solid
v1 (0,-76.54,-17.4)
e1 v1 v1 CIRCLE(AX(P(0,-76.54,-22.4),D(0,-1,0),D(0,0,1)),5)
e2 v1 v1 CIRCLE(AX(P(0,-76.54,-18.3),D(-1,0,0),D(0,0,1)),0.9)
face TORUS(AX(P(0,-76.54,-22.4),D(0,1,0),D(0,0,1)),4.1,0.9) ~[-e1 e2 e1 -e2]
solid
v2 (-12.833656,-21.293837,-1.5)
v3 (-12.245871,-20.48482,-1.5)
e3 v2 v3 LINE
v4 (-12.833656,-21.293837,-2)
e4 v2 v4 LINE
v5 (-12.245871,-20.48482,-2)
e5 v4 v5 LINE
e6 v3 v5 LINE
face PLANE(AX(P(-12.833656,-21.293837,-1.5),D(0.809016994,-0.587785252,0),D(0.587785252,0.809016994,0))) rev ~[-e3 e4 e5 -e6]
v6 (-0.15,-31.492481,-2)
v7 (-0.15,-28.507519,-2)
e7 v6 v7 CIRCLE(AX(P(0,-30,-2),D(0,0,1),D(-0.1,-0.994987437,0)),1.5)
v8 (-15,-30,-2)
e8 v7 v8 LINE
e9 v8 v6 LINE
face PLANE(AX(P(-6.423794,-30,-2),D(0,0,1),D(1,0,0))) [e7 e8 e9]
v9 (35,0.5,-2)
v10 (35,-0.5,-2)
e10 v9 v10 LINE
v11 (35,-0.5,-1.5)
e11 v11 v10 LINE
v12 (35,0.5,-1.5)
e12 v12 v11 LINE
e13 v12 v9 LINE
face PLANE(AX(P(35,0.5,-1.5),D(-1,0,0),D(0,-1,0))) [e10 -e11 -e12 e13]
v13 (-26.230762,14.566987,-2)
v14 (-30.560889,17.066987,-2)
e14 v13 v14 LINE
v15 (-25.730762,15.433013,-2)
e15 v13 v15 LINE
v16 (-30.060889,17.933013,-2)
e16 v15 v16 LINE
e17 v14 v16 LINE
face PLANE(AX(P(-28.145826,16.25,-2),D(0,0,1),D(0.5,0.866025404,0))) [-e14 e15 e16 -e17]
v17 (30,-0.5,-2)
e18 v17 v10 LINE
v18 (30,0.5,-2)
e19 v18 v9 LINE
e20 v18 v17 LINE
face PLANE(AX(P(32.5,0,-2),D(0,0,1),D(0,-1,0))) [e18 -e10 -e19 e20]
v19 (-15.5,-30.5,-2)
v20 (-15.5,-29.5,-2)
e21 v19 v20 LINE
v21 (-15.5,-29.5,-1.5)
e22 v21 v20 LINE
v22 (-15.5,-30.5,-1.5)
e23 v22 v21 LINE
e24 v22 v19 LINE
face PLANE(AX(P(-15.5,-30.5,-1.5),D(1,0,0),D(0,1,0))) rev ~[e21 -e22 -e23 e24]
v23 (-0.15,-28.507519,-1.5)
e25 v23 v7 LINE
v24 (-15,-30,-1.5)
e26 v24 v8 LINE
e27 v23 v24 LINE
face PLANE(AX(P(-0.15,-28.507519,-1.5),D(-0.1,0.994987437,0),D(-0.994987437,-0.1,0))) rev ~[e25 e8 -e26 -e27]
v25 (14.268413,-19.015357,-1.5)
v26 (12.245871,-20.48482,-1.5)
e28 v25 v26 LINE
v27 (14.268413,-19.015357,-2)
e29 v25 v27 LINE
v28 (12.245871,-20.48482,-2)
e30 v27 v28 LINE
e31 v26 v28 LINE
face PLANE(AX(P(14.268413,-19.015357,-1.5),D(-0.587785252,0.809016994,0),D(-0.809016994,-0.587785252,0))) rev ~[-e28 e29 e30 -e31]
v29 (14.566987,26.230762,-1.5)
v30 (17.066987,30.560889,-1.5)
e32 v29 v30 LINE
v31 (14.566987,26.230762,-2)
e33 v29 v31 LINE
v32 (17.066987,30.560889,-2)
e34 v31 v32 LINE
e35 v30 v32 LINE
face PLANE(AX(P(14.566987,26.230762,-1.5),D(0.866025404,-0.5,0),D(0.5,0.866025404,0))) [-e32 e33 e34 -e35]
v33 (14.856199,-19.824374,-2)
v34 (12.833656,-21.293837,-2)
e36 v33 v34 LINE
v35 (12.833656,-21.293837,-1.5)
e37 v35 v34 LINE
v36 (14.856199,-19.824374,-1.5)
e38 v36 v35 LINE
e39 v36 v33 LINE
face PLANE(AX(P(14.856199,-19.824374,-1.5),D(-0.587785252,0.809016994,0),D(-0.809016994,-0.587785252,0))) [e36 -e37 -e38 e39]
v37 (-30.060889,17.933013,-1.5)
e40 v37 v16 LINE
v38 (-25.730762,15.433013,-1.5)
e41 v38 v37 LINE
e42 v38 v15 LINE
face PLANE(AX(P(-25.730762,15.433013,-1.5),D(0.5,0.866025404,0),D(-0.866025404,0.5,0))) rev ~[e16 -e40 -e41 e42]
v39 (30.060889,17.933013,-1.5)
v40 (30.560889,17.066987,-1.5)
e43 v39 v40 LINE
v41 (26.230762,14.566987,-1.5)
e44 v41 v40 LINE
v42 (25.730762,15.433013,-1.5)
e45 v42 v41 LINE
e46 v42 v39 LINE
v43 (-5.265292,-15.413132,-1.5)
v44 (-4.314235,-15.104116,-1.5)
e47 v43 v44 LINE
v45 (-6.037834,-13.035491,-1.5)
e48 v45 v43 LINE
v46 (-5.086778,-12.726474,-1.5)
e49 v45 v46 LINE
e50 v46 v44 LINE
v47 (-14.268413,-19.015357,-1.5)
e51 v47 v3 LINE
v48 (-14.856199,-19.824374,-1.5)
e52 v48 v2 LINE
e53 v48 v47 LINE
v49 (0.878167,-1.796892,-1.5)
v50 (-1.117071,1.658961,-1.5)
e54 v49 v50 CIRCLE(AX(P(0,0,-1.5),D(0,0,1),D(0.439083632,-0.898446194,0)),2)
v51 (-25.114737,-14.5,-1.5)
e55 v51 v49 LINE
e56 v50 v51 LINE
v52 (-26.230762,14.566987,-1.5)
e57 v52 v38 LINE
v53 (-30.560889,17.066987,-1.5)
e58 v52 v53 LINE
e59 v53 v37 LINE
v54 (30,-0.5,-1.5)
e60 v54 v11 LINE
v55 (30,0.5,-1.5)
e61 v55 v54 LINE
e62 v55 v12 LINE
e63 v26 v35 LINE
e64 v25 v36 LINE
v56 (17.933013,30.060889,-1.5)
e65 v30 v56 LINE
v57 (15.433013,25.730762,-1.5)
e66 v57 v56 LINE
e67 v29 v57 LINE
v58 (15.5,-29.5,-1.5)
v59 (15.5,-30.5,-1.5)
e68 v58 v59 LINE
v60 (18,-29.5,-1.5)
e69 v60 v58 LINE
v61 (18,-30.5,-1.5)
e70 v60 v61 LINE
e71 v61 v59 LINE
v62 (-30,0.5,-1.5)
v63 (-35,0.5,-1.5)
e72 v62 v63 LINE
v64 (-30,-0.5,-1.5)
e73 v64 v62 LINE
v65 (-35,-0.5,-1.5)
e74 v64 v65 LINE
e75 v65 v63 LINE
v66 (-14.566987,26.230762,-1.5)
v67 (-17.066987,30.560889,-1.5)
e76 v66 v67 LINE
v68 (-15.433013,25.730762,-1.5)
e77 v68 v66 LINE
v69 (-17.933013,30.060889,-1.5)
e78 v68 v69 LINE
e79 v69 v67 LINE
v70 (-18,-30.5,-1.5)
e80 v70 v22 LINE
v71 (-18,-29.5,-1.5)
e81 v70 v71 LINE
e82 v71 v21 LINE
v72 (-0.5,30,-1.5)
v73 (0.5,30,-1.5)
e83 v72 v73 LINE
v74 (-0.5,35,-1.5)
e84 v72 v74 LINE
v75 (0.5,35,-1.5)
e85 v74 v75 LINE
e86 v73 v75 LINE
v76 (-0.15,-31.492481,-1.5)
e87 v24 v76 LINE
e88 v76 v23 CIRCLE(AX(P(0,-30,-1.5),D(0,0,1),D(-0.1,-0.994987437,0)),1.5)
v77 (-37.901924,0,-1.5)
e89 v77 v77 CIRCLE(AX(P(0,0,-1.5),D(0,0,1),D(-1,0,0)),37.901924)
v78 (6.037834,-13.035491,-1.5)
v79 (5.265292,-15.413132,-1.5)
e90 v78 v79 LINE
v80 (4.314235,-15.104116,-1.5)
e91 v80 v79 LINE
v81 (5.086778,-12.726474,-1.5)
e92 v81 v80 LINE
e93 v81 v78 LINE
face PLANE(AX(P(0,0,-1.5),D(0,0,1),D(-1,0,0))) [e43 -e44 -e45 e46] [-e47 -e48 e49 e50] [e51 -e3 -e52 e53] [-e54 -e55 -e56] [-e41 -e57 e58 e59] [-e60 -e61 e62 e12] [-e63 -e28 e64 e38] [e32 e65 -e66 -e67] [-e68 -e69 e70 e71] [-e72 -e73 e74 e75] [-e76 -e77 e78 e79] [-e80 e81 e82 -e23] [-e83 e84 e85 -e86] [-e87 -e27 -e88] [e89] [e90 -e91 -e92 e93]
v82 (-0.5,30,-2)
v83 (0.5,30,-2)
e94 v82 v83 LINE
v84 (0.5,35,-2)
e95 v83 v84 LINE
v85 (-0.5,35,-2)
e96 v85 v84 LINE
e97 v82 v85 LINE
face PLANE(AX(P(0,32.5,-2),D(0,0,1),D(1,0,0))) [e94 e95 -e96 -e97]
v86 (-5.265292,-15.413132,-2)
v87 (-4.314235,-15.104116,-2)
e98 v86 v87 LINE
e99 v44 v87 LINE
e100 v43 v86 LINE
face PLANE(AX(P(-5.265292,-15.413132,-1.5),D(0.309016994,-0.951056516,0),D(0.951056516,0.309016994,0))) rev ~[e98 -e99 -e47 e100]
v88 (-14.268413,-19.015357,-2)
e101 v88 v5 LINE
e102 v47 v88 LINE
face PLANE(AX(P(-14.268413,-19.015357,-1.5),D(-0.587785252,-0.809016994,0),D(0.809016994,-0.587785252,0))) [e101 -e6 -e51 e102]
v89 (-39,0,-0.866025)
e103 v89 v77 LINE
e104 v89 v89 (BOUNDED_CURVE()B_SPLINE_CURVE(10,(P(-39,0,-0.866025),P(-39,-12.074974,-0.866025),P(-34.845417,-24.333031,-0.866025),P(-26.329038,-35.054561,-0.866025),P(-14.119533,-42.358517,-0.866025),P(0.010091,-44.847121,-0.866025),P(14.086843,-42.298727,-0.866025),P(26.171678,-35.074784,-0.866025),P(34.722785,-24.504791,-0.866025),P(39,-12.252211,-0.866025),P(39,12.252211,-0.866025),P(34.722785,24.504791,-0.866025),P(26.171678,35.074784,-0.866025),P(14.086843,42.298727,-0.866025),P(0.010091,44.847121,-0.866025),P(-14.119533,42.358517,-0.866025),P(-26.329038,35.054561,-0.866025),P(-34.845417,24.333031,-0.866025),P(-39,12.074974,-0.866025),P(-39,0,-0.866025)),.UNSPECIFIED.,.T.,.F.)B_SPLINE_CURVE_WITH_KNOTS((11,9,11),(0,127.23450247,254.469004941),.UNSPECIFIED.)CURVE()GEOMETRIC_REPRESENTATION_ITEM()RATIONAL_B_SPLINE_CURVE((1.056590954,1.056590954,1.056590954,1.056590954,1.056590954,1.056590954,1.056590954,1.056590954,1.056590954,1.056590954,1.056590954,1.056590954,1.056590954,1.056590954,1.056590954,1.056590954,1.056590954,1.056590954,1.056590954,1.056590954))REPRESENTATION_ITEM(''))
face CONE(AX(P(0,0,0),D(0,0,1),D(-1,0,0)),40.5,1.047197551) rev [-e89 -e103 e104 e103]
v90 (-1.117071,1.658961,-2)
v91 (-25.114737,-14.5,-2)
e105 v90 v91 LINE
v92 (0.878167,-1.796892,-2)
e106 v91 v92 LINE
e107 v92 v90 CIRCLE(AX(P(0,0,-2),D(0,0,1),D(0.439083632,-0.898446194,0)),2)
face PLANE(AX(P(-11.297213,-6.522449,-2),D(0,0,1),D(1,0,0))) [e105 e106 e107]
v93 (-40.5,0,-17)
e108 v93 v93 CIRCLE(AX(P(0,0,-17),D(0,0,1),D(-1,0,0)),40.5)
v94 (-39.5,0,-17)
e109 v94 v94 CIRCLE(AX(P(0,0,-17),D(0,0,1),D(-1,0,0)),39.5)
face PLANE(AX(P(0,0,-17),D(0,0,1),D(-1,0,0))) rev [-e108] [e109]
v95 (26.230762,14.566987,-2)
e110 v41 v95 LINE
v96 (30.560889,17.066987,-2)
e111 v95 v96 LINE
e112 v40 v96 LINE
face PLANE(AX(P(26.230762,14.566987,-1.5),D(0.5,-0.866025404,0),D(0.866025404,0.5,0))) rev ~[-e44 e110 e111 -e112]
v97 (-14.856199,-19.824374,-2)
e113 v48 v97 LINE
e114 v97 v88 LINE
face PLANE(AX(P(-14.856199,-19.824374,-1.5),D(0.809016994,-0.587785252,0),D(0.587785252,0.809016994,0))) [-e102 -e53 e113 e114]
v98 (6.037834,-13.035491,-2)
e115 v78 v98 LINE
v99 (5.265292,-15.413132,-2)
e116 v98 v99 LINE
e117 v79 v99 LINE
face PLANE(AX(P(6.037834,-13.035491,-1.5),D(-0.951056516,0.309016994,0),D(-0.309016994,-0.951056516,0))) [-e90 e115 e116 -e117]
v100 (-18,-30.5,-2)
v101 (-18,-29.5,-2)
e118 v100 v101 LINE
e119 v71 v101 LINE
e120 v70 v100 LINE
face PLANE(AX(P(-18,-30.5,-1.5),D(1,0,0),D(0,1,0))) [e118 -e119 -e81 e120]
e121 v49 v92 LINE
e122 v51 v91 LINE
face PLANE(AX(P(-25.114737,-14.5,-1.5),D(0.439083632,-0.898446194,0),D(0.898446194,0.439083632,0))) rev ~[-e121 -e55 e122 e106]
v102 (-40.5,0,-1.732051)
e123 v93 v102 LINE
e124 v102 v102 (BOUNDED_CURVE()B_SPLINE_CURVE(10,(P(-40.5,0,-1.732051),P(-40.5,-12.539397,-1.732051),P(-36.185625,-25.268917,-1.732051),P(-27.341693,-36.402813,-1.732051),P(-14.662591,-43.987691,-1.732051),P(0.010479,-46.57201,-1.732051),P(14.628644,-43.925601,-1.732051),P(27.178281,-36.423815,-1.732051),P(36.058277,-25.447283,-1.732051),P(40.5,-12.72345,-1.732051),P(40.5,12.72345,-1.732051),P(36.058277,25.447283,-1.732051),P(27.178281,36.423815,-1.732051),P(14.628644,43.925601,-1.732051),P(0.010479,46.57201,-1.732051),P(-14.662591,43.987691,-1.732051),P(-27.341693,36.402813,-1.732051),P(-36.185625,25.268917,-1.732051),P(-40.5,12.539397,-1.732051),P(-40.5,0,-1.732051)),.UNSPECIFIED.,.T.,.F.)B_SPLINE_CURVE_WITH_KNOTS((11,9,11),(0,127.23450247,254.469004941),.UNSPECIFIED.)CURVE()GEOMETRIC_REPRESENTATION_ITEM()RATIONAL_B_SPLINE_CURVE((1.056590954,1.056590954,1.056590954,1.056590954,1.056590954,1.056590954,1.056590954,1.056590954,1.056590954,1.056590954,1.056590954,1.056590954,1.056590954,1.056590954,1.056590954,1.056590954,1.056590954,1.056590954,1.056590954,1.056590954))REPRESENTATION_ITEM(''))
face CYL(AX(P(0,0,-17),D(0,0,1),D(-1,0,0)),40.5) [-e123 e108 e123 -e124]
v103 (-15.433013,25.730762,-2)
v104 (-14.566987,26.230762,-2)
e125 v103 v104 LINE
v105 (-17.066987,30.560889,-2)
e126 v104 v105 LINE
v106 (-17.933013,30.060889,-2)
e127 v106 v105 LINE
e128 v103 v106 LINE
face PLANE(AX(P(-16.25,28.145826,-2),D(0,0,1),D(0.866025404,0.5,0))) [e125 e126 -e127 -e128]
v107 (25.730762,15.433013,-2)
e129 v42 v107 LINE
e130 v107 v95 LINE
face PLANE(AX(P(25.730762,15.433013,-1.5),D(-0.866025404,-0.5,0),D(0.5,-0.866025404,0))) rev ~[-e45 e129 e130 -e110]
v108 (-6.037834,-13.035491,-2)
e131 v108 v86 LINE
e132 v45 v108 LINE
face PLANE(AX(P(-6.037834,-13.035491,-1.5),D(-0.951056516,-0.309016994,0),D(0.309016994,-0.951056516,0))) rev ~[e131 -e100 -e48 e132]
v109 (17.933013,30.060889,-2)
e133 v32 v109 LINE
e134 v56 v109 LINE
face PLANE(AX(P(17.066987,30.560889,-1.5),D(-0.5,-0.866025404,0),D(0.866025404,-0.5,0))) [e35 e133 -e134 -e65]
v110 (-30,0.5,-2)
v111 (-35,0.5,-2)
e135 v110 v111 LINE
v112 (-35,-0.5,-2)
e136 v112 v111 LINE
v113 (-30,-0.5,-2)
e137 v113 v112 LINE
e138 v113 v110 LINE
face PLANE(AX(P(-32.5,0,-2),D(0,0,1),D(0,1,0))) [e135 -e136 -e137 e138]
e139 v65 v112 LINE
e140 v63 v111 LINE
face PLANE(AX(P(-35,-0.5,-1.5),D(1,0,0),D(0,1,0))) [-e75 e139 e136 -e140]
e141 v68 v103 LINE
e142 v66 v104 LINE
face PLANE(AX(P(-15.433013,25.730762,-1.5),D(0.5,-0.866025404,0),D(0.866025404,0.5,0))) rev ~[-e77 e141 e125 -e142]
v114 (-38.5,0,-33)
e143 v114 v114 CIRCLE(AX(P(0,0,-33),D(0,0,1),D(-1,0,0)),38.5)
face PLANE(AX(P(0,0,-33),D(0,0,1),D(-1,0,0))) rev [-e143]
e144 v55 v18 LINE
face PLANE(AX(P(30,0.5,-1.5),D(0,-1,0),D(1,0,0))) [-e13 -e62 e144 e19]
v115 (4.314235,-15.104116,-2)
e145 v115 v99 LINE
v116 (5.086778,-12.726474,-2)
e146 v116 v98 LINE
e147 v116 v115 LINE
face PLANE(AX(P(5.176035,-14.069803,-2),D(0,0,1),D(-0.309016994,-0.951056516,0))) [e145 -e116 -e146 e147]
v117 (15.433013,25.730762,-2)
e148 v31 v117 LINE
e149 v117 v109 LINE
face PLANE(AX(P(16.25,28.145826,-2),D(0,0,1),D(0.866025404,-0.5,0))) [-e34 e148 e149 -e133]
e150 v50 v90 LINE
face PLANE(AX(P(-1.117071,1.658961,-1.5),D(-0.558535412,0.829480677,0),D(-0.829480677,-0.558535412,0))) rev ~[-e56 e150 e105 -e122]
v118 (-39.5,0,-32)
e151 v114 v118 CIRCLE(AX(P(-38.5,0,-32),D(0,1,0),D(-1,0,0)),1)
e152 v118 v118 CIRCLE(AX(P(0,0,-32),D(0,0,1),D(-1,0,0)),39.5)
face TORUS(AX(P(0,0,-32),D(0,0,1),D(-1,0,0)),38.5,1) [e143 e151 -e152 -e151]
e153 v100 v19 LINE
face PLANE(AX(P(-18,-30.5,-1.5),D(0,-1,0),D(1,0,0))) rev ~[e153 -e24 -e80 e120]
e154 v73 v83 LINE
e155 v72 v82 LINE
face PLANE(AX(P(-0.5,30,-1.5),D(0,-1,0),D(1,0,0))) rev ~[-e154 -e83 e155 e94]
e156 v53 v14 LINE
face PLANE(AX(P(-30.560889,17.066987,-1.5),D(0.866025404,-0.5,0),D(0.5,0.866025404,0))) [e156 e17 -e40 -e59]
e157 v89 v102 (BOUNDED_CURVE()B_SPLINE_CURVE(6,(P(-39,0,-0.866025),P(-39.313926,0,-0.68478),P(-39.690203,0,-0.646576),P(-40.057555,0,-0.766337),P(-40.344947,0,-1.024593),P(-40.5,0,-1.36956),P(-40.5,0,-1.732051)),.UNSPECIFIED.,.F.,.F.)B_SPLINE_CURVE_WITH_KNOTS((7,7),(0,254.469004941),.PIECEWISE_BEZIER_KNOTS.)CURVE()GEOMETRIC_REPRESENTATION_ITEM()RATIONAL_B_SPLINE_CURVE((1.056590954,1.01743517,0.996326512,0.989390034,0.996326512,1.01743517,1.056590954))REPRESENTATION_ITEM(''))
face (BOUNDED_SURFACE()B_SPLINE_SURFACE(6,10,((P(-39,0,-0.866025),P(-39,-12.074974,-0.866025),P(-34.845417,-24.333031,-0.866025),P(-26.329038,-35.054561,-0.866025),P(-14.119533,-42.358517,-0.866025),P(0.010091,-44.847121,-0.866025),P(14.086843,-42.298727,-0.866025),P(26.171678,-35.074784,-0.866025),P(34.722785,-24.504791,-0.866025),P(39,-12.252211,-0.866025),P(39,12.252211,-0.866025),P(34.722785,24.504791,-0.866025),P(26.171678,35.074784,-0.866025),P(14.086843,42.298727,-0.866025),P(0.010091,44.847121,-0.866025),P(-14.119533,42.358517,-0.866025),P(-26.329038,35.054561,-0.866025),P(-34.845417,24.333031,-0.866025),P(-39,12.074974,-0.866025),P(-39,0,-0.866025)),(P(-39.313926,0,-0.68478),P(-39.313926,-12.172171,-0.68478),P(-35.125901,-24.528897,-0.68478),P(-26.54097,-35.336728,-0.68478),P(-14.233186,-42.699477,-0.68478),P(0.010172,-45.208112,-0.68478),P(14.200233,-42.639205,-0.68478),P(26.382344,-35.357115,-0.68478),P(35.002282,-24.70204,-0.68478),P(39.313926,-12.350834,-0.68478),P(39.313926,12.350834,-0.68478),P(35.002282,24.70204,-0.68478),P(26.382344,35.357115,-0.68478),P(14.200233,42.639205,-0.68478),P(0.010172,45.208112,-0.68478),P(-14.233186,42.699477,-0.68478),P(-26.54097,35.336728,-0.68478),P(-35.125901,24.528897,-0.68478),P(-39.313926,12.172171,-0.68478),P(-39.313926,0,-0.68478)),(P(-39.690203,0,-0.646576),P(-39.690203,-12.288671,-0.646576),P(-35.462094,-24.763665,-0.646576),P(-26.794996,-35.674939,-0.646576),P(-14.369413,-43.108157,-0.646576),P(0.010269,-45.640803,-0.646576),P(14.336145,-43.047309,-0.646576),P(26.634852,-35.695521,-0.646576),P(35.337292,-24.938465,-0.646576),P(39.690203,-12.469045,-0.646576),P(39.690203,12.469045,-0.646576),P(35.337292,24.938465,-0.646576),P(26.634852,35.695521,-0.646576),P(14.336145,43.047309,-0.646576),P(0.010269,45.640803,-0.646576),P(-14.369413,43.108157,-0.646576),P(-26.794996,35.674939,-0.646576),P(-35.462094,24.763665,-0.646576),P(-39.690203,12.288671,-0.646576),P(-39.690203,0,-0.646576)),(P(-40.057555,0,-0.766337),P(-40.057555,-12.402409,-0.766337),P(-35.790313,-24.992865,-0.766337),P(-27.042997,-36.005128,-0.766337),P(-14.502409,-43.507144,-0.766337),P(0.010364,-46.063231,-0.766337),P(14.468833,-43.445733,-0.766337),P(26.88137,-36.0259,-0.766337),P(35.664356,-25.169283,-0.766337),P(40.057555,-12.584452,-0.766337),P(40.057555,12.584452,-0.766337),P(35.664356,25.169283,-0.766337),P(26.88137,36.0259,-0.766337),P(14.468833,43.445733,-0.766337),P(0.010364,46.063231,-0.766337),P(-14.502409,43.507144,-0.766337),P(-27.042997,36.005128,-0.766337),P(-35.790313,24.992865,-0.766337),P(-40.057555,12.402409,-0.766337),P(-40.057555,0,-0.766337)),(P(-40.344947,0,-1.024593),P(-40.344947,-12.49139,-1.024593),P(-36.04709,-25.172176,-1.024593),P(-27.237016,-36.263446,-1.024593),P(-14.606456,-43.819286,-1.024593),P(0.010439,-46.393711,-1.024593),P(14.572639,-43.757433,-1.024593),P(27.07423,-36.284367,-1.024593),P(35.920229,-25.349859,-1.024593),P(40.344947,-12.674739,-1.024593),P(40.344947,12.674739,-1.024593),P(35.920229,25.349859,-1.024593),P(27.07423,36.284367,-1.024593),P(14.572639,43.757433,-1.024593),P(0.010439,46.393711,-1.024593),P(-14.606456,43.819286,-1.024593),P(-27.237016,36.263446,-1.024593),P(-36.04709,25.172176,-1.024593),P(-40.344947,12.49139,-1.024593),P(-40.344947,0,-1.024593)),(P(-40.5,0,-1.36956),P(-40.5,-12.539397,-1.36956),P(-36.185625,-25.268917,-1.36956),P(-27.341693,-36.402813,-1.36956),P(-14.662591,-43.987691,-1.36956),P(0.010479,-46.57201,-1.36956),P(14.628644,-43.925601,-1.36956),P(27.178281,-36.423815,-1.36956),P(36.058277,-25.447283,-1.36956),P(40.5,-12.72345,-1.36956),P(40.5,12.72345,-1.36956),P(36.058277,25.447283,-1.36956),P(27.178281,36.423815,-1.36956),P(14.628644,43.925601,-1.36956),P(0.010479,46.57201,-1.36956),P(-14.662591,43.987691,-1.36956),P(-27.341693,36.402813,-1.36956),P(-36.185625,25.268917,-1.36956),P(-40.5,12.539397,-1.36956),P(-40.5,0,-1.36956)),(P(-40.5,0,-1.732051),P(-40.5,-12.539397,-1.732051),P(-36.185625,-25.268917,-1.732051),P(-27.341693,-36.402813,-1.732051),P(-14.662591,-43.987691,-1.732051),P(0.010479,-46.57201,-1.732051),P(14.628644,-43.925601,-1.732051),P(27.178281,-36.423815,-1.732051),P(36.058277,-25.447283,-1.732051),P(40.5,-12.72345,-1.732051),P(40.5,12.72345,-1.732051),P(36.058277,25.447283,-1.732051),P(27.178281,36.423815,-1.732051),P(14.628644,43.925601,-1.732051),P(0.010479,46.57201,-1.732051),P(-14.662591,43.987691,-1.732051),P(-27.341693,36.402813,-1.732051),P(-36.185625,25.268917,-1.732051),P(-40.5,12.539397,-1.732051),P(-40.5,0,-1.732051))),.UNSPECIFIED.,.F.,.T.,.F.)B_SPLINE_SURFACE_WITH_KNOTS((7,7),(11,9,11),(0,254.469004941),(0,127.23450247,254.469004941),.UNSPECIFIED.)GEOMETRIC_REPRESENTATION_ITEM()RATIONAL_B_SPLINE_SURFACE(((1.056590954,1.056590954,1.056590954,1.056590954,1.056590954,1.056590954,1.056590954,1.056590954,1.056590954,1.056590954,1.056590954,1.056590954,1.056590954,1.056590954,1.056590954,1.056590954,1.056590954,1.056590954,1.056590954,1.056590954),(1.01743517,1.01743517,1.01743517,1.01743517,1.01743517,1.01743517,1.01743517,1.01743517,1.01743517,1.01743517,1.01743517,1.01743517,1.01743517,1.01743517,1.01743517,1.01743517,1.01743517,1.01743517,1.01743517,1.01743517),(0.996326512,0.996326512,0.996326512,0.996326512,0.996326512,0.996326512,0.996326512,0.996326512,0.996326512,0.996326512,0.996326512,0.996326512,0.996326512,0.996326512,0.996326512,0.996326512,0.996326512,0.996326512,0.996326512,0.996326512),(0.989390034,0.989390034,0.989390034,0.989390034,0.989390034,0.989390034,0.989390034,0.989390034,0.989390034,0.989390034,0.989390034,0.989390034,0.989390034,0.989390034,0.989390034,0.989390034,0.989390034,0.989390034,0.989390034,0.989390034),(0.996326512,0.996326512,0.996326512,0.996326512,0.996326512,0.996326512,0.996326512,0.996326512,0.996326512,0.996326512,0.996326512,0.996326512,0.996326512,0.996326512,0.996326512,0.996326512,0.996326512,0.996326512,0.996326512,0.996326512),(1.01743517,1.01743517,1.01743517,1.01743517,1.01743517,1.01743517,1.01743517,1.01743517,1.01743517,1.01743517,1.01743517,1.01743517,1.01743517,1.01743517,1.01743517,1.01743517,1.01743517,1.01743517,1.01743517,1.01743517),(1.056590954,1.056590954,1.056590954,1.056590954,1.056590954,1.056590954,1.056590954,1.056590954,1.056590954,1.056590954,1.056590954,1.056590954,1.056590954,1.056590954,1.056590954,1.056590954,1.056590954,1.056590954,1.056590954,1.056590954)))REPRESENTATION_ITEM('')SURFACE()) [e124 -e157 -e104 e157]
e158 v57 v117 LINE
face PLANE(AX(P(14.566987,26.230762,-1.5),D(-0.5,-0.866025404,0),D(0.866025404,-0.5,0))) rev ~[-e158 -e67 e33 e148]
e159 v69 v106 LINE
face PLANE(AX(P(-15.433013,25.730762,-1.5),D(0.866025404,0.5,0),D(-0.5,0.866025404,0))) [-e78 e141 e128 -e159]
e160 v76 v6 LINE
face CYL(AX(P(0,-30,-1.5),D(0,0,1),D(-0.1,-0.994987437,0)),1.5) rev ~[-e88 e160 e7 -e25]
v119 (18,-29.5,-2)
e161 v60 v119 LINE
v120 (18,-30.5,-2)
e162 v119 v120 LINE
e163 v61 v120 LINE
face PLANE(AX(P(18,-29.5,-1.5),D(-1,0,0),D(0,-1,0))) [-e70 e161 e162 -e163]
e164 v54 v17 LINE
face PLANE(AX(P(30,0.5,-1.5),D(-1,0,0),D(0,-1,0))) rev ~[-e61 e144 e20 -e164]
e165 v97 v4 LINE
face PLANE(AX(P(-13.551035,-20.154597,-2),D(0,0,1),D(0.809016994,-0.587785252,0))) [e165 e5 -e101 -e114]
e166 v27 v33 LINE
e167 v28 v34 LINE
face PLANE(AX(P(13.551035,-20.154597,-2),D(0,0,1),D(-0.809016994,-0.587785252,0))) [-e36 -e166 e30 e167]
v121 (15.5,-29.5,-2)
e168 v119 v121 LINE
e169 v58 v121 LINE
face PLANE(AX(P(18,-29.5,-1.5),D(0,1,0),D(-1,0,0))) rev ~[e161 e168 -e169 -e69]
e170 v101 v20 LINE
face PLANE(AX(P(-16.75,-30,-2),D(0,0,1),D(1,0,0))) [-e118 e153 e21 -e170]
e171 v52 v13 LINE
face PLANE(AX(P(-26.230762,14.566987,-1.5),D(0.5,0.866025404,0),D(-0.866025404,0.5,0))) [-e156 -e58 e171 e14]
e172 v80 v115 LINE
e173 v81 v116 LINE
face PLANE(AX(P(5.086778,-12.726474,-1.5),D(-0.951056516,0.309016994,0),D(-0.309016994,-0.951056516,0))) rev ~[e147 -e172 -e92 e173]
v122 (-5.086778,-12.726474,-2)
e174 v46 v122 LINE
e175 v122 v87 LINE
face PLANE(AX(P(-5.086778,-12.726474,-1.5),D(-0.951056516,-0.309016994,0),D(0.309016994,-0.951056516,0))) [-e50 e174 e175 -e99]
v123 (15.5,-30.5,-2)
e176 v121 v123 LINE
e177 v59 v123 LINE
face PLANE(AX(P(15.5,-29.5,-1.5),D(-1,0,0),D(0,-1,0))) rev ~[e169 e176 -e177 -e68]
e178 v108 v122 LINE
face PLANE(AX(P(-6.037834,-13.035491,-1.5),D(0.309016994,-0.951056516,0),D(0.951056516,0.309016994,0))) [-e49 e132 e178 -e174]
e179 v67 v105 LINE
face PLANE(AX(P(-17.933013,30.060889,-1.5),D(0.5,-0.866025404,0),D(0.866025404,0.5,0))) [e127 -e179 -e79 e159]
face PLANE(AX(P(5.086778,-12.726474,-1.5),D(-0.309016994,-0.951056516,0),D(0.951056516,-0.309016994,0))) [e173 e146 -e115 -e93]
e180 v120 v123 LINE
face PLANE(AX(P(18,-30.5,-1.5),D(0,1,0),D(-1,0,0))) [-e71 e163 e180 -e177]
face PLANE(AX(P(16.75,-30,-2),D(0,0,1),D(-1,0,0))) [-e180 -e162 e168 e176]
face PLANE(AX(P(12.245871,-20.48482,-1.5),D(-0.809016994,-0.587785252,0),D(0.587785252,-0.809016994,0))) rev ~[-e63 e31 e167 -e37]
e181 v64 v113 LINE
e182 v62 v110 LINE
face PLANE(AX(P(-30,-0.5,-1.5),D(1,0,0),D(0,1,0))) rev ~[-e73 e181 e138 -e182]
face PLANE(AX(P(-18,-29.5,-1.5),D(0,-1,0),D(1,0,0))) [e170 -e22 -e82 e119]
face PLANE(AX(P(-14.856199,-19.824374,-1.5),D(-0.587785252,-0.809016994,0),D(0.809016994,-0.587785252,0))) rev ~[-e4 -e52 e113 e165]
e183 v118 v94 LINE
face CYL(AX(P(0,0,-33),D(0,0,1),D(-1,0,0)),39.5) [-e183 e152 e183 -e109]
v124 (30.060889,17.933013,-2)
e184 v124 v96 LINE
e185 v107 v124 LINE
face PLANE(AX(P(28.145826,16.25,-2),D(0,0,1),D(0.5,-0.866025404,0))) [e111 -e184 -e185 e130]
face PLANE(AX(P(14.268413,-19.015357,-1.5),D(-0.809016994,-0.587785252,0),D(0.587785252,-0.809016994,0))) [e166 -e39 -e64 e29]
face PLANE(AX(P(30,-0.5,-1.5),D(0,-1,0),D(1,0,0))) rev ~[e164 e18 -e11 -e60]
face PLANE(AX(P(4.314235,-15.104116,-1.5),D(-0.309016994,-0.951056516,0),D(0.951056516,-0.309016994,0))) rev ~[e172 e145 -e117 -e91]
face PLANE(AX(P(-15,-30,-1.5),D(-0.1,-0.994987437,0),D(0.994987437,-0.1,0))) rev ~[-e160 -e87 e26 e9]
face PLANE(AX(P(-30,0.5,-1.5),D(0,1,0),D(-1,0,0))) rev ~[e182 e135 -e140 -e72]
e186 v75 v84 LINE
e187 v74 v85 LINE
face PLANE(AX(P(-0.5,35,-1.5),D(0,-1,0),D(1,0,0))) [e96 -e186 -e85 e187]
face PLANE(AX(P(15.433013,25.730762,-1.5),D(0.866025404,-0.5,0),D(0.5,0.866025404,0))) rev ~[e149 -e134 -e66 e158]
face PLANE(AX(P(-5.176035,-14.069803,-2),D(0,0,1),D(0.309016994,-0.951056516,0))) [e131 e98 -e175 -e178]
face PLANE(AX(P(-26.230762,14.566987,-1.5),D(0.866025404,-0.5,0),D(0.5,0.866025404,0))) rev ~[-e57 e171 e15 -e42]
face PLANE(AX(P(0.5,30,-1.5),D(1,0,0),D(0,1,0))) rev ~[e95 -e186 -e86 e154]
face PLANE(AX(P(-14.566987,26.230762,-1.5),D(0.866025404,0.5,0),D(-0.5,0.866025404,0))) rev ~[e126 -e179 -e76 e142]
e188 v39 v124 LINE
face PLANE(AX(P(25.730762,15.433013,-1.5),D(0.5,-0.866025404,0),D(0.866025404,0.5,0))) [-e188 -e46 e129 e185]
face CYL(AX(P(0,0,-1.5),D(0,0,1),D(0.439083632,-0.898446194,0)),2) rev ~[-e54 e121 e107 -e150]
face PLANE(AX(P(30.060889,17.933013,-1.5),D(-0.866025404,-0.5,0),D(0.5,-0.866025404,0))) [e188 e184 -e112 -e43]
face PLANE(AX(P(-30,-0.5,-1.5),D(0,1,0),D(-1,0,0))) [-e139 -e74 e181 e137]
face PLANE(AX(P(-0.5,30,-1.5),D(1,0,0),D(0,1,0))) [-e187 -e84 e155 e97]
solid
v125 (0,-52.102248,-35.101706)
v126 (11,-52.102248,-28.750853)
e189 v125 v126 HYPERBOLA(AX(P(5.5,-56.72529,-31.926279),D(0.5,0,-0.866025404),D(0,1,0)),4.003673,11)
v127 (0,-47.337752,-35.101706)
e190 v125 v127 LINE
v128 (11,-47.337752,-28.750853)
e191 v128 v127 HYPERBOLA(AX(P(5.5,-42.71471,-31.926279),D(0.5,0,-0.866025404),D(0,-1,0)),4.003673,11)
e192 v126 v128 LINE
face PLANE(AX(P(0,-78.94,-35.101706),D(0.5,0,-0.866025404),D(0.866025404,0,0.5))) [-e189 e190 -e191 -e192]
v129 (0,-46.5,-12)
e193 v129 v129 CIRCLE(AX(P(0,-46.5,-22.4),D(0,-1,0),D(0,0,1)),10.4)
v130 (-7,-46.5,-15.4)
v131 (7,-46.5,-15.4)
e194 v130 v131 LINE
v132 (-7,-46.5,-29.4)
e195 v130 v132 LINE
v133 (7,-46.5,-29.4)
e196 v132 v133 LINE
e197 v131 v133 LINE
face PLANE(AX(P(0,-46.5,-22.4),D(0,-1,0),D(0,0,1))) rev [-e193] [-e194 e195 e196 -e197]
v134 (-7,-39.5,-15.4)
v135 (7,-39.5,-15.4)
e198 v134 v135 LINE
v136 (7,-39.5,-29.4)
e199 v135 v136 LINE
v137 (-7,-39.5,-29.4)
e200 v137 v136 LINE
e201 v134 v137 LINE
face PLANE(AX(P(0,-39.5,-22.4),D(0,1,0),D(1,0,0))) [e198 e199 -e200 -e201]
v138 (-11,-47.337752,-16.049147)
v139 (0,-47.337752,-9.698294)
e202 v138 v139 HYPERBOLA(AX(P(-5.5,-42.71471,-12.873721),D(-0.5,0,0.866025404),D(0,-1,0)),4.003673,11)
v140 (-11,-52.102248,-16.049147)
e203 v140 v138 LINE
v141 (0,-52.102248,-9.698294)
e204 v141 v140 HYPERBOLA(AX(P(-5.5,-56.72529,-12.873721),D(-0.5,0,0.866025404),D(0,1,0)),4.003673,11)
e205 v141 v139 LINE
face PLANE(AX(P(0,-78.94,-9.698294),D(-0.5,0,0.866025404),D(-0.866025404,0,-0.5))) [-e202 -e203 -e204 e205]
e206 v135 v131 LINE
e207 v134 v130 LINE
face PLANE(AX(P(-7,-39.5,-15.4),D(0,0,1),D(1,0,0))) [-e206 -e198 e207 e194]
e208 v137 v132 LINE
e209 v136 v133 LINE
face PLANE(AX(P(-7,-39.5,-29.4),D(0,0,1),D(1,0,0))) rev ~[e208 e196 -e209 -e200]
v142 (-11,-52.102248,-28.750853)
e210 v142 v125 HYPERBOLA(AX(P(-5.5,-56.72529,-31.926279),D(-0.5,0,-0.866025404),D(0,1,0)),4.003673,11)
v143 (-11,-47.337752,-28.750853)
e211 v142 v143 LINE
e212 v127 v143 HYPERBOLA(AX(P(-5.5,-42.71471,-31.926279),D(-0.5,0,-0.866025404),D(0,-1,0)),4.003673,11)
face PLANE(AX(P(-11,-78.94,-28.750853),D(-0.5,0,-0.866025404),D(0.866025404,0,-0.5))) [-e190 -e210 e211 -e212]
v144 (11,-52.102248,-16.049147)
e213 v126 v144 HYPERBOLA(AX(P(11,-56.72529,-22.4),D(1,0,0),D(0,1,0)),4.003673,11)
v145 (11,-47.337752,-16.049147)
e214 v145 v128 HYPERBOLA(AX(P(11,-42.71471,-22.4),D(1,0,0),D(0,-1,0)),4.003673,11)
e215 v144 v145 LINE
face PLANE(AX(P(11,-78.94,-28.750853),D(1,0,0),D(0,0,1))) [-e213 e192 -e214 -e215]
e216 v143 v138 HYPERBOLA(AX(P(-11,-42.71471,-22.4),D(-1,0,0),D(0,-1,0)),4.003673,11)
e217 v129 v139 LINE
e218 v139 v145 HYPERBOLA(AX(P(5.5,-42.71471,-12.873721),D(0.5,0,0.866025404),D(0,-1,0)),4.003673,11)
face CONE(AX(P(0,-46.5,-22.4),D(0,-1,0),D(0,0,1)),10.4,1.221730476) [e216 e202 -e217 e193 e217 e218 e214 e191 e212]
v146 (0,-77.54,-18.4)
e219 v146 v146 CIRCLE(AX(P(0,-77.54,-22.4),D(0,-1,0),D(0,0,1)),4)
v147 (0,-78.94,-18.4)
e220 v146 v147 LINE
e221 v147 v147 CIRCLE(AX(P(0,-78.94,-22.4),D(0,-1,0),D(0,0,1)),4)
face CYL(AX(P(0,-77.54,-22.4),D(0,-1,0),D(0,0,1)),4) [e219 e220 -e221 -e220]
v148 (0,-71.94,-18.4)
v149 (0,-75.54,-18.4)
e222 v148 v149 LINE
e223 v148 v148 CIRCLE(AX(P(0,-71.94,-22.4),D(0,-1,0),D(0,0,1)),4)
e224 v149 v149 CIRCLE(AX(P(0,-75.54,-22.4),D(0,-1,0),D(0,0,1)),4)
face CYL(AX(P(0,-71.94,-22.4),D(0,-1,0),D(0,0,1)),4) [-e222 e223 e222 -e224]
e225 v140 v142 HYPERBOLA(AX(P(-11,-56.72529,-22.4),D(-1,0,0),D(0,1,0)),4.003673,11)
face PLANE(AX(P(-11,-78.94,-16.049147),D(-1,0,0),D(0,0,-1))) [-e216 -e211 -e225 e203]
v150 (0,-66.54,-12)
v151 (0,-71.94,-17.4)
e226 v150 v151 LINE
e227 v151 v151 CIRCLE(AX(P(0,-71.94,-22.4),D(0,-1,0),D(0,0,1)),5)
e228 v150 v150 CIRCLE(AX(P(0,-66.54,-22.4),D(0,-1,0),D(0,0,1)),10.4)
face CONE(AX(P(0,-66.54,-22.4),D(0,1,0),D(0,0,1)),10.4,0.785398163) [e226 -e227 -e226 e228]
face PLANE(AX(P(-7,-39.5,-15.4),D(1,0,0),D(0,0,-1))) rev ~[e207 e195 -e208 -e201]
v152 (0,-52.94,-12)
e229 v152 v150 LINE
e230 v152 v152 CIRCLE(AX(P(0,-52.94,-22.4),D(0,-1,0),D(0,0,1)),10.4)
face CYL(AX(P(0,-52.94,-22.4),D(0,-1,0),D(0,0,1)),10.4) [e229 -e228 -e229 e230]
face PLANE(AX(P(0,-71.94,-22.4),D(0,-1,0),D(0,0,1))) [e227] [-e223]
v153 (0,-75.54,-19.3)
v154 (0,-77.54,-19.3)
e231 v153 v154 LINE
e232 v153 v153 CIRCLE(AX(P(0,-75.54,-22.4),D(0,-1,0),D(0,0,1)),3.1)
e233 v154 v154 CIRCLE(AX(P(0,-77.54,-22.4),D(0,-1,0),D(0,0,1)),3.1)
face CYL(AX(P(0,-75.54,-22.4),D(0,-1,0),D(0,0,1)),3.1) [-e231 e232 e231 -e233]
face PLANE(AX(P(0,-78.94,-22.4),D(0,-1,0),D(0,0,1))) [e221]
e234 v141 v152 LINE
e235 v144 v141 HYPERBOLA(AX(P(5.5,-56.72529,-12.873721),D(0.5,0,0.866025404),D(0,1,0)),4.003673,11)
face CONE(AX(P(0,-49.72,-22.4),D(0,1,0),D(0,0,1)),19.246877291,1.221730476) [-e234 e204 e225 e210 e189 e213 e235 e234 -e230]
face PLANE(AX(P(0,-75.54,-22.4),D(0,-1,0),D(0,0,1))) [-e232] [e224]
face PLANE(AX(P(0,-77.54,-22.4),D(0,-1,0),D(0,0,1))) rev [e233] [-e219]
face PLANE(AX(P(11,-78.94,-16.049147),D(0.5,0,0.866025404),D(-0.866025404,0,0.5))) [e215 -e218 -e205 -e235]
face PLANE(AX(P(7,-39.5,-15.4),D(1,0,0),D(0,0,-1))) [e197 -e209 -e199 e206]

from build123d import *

# Parameters (mm, degrees)
ZAOBLIT1_R               = 1
SKICA2_W                 = 1
SKICA2_H                 = 5
ODEBRAT_VYSUNUT_M1_DEPTH = 0.5
KRUHOV_POLE1_COUNT       = 12
ODEBRAT_VYSUNUT_M2_DEPTH = 0.5
SKICA8_W                 = 2.5
SKICA8_H                 = 1
ODEBRAT_VYSUNUT_M5_DEPTH = 0.5
KRUHOV_POLE2_COUNT       = 6
KRUHOV_POLE2_ANGLE       = 180
SKICA9_W                 = 14
SKICA9_H                 = 14
P_IDAT_VYSUNUT_M1_DEPTH  = 7
SKICA11_OUTSIDE_W        = 113
SKICA11_OUTSIDE_H        = 72.915
ODEBRAT_VYSUNUT_M6_DEPTH = 39.44
SKICA12_R                = 0.9


with BuildPart() as part:
    # Skica1 → Rotovat1 (revolve)
    with BuildSketch(Plane(origin=(0, 0, 0), x_dir=(0, 0, -1), z_dir=(1, 0, 0)), mode=Mode.PRIVATE) as rotovat1_sk:
        Polygon((0, 40.5), (1.5, 37.901923789), (1.5, 0), (33, 0), (33, 39.5), (17, 39.5), (17, 40.5), align=None)
    revolve(rotovat1_sk.sketch.rotate(Axis((0, 0, 0), (0, 0, 1)), 90), axis=Axis((0, 0, 0), (0, 0, 1)))  # turned: the seam where the file's is

    # Zaoblit1
    zaoblit1_edges = [part.edges().sort_by_distance(p)[0] for p in [
        (40.5, 0, 0),
        (39.5, 0, -33),
    ]]
    fillet(zaoblit1_edges, radius=ZAOBLIT1_R)

    # Skica2 → Odebrat vysunutím1 (cut)
    with BuildSketch(Plane.XY.offset(-1.5)):
        with Locations((0, 32.5)):
            Rectangle(SKICA2_W, SKICA2_H)
    odebrat_vysunut_m1 = extrude(amount=-ODEBRAT_VYSUNUT_M1_DEPTH, mode=Mode.SUBTRACT)

    # Kruhové pole1: Odebrat vysunutím1 ×12 about axis, 5 skipped
    kruhov_pole1_axis = Axis((0, 0, 0), (0, 0, -1))
    add([odebrat_vysunut_m1.rotate(kruhov_pole1_axis, i * 360 / KRUHOV_POLE1_COUNT) for i in range(1, KRUHOV_POLE1_COUNT) if i not in (4, 5, 6, 7, 8)], mode=Mode.SUBTRACT)

    # Skica3 → Odebrat vysunutím2 (cut)
    with BuildSketch(Plane.XY.offset(-1.5)):
        with BuildLine():
            Line((-1.117070824, 1.658961354), (-25.11473671, -14.5))
            Line((-25.11473671, -14.5), (0.878167264, -1.796892388))
            ThreePointArc((0.878167264, -1.796892388), (1.732050808, 1), (-1.117070824, 1.658961354))
        make_face()
        with BuildLine():
            Line((-0.15, -28.507518844), (-15, -30))
            Line((-15, -30), (-0.15, -31.492481156))
            ThreePointArc((-0.15, -31.492481156), (1.5, -30), (-0.15, -28.507518844))
        make_face()
    extrude(amount=-ODEBRAT_VYSUNUT_M2_DEPTH, mode=Mode.SUBTRACT)

    # Skica8 → Odebrat vysunutím5 (cut)
    with BuildSketch(Plane.XY.offset(-1.5)):
        with Locations((-16.75, -30)):
            Rectangle(SKICA8_W, SKICA8_H)
    odebrat_vysunut_m5 = extrude(amount=-ODEBRAT_VYSUNUT_M5_DEPTH, mode=Mode.SUBTRACT)

    # Kruhové pole2: Odebrat vysunutím5 ×6 about axis
    kruhov_pole2_axis = Axis((0, -30, 0), (0, 0, -1))
    for i in range(1, KRUHOV_POLE2_COUNT):
        add(odebrat_vysunut_m5.rotate(kruhov_pole2_axis, i * KRUHOV_POLE2_ANGLE / (KRUHOV_POLE2_COUNT - 1)), mode=Mode.SUBTRACT)


with BuildPart() as body_2:
    # Skica9 → Přidat vysunutím1 (new body)
    with BuildSketch(Plane(origin=(0, -39.5, 0), x_dir=(1, 0, 0), z_dir=(0, 1, 0))):
        with Locations((0, 22.4)):
            Rectangle(SKICA9_W, SKICA9_H)
    extrude(amount=-P_IDAT_VYSUNUT_M1_DEPTH)

    # Skica10 → Rotovat3 (revolve)
    with BuildSketch(Plane(origin=(0, 0, 0), x_dir=(0, 0, -1), z_dir=(1, 0, 0)), mode=Mode.PRIVATE) as rotovat3_sk:
        Polygon((22.4, -46.5), (32.8, -46.5), (41.646877291, -49.72), (32.8, -52.94), (32.8, -66.54), (27.4, -71.94), (26.4, -71.94), (26.4, -75.54), (25.5, -75.54), (25.5, -77.54), (26.4, -77.54), (26.4, -78.94), (22.4, -78.94), align=None)
    revolve(rotovat3_sk.sketch.rotate(Axis((0, -46.5, -22.4), (0, -1, 0)), 180), axis=Axis((0, -46.5, -22.4), (0, -1, 0)))  # turned: the seam where the file's is

    # Skica11 outside → Odebrat vysunutím6 (cut)
    with BuildSketch(Plane.XZ.offset(78.94)):
        with Locations((0, -21.1895)):
            Rectangle(SKICA11_OUTSIDE_W, SKICA11_OUTSIDE_H)
        Polygon((11, -16.049147039), (0, -9.698294078), (-11, -16.049147039), (-11, -28.750852961), (0, -35.101705922), (11, -28.750852961), align=None, mode=Mode.SUBTRACT)
    extrude(amount=-ODEBRAT_VYSUNUT_M6_DEPTH, mode=Mode.SUBTRACT)


with BuildPart() as body_3:
    # Skica12 → Rotovat4 (revolve)
    with BuildSketch(Plane(origin=(0, 0, 0), x_dir=(0, 0, -1), z_dir=(1, 0, 0)), mode=Mode.PRIVATE) as rotovat4_sk:
        with Locations((26.5, -76.54)):
            Circle(SKICA12_R)
    revolve(rotovat4_sk.sketch.rotate(Axis((0, -75.54, -22.4), (0, -1, 0)), 180), axis=Axis((0, -75.54, -22.4), (0, -1, 0)))  # turned: the seam where the file's is


solid = Compound([part.part, body_2.part, body_3.part])
